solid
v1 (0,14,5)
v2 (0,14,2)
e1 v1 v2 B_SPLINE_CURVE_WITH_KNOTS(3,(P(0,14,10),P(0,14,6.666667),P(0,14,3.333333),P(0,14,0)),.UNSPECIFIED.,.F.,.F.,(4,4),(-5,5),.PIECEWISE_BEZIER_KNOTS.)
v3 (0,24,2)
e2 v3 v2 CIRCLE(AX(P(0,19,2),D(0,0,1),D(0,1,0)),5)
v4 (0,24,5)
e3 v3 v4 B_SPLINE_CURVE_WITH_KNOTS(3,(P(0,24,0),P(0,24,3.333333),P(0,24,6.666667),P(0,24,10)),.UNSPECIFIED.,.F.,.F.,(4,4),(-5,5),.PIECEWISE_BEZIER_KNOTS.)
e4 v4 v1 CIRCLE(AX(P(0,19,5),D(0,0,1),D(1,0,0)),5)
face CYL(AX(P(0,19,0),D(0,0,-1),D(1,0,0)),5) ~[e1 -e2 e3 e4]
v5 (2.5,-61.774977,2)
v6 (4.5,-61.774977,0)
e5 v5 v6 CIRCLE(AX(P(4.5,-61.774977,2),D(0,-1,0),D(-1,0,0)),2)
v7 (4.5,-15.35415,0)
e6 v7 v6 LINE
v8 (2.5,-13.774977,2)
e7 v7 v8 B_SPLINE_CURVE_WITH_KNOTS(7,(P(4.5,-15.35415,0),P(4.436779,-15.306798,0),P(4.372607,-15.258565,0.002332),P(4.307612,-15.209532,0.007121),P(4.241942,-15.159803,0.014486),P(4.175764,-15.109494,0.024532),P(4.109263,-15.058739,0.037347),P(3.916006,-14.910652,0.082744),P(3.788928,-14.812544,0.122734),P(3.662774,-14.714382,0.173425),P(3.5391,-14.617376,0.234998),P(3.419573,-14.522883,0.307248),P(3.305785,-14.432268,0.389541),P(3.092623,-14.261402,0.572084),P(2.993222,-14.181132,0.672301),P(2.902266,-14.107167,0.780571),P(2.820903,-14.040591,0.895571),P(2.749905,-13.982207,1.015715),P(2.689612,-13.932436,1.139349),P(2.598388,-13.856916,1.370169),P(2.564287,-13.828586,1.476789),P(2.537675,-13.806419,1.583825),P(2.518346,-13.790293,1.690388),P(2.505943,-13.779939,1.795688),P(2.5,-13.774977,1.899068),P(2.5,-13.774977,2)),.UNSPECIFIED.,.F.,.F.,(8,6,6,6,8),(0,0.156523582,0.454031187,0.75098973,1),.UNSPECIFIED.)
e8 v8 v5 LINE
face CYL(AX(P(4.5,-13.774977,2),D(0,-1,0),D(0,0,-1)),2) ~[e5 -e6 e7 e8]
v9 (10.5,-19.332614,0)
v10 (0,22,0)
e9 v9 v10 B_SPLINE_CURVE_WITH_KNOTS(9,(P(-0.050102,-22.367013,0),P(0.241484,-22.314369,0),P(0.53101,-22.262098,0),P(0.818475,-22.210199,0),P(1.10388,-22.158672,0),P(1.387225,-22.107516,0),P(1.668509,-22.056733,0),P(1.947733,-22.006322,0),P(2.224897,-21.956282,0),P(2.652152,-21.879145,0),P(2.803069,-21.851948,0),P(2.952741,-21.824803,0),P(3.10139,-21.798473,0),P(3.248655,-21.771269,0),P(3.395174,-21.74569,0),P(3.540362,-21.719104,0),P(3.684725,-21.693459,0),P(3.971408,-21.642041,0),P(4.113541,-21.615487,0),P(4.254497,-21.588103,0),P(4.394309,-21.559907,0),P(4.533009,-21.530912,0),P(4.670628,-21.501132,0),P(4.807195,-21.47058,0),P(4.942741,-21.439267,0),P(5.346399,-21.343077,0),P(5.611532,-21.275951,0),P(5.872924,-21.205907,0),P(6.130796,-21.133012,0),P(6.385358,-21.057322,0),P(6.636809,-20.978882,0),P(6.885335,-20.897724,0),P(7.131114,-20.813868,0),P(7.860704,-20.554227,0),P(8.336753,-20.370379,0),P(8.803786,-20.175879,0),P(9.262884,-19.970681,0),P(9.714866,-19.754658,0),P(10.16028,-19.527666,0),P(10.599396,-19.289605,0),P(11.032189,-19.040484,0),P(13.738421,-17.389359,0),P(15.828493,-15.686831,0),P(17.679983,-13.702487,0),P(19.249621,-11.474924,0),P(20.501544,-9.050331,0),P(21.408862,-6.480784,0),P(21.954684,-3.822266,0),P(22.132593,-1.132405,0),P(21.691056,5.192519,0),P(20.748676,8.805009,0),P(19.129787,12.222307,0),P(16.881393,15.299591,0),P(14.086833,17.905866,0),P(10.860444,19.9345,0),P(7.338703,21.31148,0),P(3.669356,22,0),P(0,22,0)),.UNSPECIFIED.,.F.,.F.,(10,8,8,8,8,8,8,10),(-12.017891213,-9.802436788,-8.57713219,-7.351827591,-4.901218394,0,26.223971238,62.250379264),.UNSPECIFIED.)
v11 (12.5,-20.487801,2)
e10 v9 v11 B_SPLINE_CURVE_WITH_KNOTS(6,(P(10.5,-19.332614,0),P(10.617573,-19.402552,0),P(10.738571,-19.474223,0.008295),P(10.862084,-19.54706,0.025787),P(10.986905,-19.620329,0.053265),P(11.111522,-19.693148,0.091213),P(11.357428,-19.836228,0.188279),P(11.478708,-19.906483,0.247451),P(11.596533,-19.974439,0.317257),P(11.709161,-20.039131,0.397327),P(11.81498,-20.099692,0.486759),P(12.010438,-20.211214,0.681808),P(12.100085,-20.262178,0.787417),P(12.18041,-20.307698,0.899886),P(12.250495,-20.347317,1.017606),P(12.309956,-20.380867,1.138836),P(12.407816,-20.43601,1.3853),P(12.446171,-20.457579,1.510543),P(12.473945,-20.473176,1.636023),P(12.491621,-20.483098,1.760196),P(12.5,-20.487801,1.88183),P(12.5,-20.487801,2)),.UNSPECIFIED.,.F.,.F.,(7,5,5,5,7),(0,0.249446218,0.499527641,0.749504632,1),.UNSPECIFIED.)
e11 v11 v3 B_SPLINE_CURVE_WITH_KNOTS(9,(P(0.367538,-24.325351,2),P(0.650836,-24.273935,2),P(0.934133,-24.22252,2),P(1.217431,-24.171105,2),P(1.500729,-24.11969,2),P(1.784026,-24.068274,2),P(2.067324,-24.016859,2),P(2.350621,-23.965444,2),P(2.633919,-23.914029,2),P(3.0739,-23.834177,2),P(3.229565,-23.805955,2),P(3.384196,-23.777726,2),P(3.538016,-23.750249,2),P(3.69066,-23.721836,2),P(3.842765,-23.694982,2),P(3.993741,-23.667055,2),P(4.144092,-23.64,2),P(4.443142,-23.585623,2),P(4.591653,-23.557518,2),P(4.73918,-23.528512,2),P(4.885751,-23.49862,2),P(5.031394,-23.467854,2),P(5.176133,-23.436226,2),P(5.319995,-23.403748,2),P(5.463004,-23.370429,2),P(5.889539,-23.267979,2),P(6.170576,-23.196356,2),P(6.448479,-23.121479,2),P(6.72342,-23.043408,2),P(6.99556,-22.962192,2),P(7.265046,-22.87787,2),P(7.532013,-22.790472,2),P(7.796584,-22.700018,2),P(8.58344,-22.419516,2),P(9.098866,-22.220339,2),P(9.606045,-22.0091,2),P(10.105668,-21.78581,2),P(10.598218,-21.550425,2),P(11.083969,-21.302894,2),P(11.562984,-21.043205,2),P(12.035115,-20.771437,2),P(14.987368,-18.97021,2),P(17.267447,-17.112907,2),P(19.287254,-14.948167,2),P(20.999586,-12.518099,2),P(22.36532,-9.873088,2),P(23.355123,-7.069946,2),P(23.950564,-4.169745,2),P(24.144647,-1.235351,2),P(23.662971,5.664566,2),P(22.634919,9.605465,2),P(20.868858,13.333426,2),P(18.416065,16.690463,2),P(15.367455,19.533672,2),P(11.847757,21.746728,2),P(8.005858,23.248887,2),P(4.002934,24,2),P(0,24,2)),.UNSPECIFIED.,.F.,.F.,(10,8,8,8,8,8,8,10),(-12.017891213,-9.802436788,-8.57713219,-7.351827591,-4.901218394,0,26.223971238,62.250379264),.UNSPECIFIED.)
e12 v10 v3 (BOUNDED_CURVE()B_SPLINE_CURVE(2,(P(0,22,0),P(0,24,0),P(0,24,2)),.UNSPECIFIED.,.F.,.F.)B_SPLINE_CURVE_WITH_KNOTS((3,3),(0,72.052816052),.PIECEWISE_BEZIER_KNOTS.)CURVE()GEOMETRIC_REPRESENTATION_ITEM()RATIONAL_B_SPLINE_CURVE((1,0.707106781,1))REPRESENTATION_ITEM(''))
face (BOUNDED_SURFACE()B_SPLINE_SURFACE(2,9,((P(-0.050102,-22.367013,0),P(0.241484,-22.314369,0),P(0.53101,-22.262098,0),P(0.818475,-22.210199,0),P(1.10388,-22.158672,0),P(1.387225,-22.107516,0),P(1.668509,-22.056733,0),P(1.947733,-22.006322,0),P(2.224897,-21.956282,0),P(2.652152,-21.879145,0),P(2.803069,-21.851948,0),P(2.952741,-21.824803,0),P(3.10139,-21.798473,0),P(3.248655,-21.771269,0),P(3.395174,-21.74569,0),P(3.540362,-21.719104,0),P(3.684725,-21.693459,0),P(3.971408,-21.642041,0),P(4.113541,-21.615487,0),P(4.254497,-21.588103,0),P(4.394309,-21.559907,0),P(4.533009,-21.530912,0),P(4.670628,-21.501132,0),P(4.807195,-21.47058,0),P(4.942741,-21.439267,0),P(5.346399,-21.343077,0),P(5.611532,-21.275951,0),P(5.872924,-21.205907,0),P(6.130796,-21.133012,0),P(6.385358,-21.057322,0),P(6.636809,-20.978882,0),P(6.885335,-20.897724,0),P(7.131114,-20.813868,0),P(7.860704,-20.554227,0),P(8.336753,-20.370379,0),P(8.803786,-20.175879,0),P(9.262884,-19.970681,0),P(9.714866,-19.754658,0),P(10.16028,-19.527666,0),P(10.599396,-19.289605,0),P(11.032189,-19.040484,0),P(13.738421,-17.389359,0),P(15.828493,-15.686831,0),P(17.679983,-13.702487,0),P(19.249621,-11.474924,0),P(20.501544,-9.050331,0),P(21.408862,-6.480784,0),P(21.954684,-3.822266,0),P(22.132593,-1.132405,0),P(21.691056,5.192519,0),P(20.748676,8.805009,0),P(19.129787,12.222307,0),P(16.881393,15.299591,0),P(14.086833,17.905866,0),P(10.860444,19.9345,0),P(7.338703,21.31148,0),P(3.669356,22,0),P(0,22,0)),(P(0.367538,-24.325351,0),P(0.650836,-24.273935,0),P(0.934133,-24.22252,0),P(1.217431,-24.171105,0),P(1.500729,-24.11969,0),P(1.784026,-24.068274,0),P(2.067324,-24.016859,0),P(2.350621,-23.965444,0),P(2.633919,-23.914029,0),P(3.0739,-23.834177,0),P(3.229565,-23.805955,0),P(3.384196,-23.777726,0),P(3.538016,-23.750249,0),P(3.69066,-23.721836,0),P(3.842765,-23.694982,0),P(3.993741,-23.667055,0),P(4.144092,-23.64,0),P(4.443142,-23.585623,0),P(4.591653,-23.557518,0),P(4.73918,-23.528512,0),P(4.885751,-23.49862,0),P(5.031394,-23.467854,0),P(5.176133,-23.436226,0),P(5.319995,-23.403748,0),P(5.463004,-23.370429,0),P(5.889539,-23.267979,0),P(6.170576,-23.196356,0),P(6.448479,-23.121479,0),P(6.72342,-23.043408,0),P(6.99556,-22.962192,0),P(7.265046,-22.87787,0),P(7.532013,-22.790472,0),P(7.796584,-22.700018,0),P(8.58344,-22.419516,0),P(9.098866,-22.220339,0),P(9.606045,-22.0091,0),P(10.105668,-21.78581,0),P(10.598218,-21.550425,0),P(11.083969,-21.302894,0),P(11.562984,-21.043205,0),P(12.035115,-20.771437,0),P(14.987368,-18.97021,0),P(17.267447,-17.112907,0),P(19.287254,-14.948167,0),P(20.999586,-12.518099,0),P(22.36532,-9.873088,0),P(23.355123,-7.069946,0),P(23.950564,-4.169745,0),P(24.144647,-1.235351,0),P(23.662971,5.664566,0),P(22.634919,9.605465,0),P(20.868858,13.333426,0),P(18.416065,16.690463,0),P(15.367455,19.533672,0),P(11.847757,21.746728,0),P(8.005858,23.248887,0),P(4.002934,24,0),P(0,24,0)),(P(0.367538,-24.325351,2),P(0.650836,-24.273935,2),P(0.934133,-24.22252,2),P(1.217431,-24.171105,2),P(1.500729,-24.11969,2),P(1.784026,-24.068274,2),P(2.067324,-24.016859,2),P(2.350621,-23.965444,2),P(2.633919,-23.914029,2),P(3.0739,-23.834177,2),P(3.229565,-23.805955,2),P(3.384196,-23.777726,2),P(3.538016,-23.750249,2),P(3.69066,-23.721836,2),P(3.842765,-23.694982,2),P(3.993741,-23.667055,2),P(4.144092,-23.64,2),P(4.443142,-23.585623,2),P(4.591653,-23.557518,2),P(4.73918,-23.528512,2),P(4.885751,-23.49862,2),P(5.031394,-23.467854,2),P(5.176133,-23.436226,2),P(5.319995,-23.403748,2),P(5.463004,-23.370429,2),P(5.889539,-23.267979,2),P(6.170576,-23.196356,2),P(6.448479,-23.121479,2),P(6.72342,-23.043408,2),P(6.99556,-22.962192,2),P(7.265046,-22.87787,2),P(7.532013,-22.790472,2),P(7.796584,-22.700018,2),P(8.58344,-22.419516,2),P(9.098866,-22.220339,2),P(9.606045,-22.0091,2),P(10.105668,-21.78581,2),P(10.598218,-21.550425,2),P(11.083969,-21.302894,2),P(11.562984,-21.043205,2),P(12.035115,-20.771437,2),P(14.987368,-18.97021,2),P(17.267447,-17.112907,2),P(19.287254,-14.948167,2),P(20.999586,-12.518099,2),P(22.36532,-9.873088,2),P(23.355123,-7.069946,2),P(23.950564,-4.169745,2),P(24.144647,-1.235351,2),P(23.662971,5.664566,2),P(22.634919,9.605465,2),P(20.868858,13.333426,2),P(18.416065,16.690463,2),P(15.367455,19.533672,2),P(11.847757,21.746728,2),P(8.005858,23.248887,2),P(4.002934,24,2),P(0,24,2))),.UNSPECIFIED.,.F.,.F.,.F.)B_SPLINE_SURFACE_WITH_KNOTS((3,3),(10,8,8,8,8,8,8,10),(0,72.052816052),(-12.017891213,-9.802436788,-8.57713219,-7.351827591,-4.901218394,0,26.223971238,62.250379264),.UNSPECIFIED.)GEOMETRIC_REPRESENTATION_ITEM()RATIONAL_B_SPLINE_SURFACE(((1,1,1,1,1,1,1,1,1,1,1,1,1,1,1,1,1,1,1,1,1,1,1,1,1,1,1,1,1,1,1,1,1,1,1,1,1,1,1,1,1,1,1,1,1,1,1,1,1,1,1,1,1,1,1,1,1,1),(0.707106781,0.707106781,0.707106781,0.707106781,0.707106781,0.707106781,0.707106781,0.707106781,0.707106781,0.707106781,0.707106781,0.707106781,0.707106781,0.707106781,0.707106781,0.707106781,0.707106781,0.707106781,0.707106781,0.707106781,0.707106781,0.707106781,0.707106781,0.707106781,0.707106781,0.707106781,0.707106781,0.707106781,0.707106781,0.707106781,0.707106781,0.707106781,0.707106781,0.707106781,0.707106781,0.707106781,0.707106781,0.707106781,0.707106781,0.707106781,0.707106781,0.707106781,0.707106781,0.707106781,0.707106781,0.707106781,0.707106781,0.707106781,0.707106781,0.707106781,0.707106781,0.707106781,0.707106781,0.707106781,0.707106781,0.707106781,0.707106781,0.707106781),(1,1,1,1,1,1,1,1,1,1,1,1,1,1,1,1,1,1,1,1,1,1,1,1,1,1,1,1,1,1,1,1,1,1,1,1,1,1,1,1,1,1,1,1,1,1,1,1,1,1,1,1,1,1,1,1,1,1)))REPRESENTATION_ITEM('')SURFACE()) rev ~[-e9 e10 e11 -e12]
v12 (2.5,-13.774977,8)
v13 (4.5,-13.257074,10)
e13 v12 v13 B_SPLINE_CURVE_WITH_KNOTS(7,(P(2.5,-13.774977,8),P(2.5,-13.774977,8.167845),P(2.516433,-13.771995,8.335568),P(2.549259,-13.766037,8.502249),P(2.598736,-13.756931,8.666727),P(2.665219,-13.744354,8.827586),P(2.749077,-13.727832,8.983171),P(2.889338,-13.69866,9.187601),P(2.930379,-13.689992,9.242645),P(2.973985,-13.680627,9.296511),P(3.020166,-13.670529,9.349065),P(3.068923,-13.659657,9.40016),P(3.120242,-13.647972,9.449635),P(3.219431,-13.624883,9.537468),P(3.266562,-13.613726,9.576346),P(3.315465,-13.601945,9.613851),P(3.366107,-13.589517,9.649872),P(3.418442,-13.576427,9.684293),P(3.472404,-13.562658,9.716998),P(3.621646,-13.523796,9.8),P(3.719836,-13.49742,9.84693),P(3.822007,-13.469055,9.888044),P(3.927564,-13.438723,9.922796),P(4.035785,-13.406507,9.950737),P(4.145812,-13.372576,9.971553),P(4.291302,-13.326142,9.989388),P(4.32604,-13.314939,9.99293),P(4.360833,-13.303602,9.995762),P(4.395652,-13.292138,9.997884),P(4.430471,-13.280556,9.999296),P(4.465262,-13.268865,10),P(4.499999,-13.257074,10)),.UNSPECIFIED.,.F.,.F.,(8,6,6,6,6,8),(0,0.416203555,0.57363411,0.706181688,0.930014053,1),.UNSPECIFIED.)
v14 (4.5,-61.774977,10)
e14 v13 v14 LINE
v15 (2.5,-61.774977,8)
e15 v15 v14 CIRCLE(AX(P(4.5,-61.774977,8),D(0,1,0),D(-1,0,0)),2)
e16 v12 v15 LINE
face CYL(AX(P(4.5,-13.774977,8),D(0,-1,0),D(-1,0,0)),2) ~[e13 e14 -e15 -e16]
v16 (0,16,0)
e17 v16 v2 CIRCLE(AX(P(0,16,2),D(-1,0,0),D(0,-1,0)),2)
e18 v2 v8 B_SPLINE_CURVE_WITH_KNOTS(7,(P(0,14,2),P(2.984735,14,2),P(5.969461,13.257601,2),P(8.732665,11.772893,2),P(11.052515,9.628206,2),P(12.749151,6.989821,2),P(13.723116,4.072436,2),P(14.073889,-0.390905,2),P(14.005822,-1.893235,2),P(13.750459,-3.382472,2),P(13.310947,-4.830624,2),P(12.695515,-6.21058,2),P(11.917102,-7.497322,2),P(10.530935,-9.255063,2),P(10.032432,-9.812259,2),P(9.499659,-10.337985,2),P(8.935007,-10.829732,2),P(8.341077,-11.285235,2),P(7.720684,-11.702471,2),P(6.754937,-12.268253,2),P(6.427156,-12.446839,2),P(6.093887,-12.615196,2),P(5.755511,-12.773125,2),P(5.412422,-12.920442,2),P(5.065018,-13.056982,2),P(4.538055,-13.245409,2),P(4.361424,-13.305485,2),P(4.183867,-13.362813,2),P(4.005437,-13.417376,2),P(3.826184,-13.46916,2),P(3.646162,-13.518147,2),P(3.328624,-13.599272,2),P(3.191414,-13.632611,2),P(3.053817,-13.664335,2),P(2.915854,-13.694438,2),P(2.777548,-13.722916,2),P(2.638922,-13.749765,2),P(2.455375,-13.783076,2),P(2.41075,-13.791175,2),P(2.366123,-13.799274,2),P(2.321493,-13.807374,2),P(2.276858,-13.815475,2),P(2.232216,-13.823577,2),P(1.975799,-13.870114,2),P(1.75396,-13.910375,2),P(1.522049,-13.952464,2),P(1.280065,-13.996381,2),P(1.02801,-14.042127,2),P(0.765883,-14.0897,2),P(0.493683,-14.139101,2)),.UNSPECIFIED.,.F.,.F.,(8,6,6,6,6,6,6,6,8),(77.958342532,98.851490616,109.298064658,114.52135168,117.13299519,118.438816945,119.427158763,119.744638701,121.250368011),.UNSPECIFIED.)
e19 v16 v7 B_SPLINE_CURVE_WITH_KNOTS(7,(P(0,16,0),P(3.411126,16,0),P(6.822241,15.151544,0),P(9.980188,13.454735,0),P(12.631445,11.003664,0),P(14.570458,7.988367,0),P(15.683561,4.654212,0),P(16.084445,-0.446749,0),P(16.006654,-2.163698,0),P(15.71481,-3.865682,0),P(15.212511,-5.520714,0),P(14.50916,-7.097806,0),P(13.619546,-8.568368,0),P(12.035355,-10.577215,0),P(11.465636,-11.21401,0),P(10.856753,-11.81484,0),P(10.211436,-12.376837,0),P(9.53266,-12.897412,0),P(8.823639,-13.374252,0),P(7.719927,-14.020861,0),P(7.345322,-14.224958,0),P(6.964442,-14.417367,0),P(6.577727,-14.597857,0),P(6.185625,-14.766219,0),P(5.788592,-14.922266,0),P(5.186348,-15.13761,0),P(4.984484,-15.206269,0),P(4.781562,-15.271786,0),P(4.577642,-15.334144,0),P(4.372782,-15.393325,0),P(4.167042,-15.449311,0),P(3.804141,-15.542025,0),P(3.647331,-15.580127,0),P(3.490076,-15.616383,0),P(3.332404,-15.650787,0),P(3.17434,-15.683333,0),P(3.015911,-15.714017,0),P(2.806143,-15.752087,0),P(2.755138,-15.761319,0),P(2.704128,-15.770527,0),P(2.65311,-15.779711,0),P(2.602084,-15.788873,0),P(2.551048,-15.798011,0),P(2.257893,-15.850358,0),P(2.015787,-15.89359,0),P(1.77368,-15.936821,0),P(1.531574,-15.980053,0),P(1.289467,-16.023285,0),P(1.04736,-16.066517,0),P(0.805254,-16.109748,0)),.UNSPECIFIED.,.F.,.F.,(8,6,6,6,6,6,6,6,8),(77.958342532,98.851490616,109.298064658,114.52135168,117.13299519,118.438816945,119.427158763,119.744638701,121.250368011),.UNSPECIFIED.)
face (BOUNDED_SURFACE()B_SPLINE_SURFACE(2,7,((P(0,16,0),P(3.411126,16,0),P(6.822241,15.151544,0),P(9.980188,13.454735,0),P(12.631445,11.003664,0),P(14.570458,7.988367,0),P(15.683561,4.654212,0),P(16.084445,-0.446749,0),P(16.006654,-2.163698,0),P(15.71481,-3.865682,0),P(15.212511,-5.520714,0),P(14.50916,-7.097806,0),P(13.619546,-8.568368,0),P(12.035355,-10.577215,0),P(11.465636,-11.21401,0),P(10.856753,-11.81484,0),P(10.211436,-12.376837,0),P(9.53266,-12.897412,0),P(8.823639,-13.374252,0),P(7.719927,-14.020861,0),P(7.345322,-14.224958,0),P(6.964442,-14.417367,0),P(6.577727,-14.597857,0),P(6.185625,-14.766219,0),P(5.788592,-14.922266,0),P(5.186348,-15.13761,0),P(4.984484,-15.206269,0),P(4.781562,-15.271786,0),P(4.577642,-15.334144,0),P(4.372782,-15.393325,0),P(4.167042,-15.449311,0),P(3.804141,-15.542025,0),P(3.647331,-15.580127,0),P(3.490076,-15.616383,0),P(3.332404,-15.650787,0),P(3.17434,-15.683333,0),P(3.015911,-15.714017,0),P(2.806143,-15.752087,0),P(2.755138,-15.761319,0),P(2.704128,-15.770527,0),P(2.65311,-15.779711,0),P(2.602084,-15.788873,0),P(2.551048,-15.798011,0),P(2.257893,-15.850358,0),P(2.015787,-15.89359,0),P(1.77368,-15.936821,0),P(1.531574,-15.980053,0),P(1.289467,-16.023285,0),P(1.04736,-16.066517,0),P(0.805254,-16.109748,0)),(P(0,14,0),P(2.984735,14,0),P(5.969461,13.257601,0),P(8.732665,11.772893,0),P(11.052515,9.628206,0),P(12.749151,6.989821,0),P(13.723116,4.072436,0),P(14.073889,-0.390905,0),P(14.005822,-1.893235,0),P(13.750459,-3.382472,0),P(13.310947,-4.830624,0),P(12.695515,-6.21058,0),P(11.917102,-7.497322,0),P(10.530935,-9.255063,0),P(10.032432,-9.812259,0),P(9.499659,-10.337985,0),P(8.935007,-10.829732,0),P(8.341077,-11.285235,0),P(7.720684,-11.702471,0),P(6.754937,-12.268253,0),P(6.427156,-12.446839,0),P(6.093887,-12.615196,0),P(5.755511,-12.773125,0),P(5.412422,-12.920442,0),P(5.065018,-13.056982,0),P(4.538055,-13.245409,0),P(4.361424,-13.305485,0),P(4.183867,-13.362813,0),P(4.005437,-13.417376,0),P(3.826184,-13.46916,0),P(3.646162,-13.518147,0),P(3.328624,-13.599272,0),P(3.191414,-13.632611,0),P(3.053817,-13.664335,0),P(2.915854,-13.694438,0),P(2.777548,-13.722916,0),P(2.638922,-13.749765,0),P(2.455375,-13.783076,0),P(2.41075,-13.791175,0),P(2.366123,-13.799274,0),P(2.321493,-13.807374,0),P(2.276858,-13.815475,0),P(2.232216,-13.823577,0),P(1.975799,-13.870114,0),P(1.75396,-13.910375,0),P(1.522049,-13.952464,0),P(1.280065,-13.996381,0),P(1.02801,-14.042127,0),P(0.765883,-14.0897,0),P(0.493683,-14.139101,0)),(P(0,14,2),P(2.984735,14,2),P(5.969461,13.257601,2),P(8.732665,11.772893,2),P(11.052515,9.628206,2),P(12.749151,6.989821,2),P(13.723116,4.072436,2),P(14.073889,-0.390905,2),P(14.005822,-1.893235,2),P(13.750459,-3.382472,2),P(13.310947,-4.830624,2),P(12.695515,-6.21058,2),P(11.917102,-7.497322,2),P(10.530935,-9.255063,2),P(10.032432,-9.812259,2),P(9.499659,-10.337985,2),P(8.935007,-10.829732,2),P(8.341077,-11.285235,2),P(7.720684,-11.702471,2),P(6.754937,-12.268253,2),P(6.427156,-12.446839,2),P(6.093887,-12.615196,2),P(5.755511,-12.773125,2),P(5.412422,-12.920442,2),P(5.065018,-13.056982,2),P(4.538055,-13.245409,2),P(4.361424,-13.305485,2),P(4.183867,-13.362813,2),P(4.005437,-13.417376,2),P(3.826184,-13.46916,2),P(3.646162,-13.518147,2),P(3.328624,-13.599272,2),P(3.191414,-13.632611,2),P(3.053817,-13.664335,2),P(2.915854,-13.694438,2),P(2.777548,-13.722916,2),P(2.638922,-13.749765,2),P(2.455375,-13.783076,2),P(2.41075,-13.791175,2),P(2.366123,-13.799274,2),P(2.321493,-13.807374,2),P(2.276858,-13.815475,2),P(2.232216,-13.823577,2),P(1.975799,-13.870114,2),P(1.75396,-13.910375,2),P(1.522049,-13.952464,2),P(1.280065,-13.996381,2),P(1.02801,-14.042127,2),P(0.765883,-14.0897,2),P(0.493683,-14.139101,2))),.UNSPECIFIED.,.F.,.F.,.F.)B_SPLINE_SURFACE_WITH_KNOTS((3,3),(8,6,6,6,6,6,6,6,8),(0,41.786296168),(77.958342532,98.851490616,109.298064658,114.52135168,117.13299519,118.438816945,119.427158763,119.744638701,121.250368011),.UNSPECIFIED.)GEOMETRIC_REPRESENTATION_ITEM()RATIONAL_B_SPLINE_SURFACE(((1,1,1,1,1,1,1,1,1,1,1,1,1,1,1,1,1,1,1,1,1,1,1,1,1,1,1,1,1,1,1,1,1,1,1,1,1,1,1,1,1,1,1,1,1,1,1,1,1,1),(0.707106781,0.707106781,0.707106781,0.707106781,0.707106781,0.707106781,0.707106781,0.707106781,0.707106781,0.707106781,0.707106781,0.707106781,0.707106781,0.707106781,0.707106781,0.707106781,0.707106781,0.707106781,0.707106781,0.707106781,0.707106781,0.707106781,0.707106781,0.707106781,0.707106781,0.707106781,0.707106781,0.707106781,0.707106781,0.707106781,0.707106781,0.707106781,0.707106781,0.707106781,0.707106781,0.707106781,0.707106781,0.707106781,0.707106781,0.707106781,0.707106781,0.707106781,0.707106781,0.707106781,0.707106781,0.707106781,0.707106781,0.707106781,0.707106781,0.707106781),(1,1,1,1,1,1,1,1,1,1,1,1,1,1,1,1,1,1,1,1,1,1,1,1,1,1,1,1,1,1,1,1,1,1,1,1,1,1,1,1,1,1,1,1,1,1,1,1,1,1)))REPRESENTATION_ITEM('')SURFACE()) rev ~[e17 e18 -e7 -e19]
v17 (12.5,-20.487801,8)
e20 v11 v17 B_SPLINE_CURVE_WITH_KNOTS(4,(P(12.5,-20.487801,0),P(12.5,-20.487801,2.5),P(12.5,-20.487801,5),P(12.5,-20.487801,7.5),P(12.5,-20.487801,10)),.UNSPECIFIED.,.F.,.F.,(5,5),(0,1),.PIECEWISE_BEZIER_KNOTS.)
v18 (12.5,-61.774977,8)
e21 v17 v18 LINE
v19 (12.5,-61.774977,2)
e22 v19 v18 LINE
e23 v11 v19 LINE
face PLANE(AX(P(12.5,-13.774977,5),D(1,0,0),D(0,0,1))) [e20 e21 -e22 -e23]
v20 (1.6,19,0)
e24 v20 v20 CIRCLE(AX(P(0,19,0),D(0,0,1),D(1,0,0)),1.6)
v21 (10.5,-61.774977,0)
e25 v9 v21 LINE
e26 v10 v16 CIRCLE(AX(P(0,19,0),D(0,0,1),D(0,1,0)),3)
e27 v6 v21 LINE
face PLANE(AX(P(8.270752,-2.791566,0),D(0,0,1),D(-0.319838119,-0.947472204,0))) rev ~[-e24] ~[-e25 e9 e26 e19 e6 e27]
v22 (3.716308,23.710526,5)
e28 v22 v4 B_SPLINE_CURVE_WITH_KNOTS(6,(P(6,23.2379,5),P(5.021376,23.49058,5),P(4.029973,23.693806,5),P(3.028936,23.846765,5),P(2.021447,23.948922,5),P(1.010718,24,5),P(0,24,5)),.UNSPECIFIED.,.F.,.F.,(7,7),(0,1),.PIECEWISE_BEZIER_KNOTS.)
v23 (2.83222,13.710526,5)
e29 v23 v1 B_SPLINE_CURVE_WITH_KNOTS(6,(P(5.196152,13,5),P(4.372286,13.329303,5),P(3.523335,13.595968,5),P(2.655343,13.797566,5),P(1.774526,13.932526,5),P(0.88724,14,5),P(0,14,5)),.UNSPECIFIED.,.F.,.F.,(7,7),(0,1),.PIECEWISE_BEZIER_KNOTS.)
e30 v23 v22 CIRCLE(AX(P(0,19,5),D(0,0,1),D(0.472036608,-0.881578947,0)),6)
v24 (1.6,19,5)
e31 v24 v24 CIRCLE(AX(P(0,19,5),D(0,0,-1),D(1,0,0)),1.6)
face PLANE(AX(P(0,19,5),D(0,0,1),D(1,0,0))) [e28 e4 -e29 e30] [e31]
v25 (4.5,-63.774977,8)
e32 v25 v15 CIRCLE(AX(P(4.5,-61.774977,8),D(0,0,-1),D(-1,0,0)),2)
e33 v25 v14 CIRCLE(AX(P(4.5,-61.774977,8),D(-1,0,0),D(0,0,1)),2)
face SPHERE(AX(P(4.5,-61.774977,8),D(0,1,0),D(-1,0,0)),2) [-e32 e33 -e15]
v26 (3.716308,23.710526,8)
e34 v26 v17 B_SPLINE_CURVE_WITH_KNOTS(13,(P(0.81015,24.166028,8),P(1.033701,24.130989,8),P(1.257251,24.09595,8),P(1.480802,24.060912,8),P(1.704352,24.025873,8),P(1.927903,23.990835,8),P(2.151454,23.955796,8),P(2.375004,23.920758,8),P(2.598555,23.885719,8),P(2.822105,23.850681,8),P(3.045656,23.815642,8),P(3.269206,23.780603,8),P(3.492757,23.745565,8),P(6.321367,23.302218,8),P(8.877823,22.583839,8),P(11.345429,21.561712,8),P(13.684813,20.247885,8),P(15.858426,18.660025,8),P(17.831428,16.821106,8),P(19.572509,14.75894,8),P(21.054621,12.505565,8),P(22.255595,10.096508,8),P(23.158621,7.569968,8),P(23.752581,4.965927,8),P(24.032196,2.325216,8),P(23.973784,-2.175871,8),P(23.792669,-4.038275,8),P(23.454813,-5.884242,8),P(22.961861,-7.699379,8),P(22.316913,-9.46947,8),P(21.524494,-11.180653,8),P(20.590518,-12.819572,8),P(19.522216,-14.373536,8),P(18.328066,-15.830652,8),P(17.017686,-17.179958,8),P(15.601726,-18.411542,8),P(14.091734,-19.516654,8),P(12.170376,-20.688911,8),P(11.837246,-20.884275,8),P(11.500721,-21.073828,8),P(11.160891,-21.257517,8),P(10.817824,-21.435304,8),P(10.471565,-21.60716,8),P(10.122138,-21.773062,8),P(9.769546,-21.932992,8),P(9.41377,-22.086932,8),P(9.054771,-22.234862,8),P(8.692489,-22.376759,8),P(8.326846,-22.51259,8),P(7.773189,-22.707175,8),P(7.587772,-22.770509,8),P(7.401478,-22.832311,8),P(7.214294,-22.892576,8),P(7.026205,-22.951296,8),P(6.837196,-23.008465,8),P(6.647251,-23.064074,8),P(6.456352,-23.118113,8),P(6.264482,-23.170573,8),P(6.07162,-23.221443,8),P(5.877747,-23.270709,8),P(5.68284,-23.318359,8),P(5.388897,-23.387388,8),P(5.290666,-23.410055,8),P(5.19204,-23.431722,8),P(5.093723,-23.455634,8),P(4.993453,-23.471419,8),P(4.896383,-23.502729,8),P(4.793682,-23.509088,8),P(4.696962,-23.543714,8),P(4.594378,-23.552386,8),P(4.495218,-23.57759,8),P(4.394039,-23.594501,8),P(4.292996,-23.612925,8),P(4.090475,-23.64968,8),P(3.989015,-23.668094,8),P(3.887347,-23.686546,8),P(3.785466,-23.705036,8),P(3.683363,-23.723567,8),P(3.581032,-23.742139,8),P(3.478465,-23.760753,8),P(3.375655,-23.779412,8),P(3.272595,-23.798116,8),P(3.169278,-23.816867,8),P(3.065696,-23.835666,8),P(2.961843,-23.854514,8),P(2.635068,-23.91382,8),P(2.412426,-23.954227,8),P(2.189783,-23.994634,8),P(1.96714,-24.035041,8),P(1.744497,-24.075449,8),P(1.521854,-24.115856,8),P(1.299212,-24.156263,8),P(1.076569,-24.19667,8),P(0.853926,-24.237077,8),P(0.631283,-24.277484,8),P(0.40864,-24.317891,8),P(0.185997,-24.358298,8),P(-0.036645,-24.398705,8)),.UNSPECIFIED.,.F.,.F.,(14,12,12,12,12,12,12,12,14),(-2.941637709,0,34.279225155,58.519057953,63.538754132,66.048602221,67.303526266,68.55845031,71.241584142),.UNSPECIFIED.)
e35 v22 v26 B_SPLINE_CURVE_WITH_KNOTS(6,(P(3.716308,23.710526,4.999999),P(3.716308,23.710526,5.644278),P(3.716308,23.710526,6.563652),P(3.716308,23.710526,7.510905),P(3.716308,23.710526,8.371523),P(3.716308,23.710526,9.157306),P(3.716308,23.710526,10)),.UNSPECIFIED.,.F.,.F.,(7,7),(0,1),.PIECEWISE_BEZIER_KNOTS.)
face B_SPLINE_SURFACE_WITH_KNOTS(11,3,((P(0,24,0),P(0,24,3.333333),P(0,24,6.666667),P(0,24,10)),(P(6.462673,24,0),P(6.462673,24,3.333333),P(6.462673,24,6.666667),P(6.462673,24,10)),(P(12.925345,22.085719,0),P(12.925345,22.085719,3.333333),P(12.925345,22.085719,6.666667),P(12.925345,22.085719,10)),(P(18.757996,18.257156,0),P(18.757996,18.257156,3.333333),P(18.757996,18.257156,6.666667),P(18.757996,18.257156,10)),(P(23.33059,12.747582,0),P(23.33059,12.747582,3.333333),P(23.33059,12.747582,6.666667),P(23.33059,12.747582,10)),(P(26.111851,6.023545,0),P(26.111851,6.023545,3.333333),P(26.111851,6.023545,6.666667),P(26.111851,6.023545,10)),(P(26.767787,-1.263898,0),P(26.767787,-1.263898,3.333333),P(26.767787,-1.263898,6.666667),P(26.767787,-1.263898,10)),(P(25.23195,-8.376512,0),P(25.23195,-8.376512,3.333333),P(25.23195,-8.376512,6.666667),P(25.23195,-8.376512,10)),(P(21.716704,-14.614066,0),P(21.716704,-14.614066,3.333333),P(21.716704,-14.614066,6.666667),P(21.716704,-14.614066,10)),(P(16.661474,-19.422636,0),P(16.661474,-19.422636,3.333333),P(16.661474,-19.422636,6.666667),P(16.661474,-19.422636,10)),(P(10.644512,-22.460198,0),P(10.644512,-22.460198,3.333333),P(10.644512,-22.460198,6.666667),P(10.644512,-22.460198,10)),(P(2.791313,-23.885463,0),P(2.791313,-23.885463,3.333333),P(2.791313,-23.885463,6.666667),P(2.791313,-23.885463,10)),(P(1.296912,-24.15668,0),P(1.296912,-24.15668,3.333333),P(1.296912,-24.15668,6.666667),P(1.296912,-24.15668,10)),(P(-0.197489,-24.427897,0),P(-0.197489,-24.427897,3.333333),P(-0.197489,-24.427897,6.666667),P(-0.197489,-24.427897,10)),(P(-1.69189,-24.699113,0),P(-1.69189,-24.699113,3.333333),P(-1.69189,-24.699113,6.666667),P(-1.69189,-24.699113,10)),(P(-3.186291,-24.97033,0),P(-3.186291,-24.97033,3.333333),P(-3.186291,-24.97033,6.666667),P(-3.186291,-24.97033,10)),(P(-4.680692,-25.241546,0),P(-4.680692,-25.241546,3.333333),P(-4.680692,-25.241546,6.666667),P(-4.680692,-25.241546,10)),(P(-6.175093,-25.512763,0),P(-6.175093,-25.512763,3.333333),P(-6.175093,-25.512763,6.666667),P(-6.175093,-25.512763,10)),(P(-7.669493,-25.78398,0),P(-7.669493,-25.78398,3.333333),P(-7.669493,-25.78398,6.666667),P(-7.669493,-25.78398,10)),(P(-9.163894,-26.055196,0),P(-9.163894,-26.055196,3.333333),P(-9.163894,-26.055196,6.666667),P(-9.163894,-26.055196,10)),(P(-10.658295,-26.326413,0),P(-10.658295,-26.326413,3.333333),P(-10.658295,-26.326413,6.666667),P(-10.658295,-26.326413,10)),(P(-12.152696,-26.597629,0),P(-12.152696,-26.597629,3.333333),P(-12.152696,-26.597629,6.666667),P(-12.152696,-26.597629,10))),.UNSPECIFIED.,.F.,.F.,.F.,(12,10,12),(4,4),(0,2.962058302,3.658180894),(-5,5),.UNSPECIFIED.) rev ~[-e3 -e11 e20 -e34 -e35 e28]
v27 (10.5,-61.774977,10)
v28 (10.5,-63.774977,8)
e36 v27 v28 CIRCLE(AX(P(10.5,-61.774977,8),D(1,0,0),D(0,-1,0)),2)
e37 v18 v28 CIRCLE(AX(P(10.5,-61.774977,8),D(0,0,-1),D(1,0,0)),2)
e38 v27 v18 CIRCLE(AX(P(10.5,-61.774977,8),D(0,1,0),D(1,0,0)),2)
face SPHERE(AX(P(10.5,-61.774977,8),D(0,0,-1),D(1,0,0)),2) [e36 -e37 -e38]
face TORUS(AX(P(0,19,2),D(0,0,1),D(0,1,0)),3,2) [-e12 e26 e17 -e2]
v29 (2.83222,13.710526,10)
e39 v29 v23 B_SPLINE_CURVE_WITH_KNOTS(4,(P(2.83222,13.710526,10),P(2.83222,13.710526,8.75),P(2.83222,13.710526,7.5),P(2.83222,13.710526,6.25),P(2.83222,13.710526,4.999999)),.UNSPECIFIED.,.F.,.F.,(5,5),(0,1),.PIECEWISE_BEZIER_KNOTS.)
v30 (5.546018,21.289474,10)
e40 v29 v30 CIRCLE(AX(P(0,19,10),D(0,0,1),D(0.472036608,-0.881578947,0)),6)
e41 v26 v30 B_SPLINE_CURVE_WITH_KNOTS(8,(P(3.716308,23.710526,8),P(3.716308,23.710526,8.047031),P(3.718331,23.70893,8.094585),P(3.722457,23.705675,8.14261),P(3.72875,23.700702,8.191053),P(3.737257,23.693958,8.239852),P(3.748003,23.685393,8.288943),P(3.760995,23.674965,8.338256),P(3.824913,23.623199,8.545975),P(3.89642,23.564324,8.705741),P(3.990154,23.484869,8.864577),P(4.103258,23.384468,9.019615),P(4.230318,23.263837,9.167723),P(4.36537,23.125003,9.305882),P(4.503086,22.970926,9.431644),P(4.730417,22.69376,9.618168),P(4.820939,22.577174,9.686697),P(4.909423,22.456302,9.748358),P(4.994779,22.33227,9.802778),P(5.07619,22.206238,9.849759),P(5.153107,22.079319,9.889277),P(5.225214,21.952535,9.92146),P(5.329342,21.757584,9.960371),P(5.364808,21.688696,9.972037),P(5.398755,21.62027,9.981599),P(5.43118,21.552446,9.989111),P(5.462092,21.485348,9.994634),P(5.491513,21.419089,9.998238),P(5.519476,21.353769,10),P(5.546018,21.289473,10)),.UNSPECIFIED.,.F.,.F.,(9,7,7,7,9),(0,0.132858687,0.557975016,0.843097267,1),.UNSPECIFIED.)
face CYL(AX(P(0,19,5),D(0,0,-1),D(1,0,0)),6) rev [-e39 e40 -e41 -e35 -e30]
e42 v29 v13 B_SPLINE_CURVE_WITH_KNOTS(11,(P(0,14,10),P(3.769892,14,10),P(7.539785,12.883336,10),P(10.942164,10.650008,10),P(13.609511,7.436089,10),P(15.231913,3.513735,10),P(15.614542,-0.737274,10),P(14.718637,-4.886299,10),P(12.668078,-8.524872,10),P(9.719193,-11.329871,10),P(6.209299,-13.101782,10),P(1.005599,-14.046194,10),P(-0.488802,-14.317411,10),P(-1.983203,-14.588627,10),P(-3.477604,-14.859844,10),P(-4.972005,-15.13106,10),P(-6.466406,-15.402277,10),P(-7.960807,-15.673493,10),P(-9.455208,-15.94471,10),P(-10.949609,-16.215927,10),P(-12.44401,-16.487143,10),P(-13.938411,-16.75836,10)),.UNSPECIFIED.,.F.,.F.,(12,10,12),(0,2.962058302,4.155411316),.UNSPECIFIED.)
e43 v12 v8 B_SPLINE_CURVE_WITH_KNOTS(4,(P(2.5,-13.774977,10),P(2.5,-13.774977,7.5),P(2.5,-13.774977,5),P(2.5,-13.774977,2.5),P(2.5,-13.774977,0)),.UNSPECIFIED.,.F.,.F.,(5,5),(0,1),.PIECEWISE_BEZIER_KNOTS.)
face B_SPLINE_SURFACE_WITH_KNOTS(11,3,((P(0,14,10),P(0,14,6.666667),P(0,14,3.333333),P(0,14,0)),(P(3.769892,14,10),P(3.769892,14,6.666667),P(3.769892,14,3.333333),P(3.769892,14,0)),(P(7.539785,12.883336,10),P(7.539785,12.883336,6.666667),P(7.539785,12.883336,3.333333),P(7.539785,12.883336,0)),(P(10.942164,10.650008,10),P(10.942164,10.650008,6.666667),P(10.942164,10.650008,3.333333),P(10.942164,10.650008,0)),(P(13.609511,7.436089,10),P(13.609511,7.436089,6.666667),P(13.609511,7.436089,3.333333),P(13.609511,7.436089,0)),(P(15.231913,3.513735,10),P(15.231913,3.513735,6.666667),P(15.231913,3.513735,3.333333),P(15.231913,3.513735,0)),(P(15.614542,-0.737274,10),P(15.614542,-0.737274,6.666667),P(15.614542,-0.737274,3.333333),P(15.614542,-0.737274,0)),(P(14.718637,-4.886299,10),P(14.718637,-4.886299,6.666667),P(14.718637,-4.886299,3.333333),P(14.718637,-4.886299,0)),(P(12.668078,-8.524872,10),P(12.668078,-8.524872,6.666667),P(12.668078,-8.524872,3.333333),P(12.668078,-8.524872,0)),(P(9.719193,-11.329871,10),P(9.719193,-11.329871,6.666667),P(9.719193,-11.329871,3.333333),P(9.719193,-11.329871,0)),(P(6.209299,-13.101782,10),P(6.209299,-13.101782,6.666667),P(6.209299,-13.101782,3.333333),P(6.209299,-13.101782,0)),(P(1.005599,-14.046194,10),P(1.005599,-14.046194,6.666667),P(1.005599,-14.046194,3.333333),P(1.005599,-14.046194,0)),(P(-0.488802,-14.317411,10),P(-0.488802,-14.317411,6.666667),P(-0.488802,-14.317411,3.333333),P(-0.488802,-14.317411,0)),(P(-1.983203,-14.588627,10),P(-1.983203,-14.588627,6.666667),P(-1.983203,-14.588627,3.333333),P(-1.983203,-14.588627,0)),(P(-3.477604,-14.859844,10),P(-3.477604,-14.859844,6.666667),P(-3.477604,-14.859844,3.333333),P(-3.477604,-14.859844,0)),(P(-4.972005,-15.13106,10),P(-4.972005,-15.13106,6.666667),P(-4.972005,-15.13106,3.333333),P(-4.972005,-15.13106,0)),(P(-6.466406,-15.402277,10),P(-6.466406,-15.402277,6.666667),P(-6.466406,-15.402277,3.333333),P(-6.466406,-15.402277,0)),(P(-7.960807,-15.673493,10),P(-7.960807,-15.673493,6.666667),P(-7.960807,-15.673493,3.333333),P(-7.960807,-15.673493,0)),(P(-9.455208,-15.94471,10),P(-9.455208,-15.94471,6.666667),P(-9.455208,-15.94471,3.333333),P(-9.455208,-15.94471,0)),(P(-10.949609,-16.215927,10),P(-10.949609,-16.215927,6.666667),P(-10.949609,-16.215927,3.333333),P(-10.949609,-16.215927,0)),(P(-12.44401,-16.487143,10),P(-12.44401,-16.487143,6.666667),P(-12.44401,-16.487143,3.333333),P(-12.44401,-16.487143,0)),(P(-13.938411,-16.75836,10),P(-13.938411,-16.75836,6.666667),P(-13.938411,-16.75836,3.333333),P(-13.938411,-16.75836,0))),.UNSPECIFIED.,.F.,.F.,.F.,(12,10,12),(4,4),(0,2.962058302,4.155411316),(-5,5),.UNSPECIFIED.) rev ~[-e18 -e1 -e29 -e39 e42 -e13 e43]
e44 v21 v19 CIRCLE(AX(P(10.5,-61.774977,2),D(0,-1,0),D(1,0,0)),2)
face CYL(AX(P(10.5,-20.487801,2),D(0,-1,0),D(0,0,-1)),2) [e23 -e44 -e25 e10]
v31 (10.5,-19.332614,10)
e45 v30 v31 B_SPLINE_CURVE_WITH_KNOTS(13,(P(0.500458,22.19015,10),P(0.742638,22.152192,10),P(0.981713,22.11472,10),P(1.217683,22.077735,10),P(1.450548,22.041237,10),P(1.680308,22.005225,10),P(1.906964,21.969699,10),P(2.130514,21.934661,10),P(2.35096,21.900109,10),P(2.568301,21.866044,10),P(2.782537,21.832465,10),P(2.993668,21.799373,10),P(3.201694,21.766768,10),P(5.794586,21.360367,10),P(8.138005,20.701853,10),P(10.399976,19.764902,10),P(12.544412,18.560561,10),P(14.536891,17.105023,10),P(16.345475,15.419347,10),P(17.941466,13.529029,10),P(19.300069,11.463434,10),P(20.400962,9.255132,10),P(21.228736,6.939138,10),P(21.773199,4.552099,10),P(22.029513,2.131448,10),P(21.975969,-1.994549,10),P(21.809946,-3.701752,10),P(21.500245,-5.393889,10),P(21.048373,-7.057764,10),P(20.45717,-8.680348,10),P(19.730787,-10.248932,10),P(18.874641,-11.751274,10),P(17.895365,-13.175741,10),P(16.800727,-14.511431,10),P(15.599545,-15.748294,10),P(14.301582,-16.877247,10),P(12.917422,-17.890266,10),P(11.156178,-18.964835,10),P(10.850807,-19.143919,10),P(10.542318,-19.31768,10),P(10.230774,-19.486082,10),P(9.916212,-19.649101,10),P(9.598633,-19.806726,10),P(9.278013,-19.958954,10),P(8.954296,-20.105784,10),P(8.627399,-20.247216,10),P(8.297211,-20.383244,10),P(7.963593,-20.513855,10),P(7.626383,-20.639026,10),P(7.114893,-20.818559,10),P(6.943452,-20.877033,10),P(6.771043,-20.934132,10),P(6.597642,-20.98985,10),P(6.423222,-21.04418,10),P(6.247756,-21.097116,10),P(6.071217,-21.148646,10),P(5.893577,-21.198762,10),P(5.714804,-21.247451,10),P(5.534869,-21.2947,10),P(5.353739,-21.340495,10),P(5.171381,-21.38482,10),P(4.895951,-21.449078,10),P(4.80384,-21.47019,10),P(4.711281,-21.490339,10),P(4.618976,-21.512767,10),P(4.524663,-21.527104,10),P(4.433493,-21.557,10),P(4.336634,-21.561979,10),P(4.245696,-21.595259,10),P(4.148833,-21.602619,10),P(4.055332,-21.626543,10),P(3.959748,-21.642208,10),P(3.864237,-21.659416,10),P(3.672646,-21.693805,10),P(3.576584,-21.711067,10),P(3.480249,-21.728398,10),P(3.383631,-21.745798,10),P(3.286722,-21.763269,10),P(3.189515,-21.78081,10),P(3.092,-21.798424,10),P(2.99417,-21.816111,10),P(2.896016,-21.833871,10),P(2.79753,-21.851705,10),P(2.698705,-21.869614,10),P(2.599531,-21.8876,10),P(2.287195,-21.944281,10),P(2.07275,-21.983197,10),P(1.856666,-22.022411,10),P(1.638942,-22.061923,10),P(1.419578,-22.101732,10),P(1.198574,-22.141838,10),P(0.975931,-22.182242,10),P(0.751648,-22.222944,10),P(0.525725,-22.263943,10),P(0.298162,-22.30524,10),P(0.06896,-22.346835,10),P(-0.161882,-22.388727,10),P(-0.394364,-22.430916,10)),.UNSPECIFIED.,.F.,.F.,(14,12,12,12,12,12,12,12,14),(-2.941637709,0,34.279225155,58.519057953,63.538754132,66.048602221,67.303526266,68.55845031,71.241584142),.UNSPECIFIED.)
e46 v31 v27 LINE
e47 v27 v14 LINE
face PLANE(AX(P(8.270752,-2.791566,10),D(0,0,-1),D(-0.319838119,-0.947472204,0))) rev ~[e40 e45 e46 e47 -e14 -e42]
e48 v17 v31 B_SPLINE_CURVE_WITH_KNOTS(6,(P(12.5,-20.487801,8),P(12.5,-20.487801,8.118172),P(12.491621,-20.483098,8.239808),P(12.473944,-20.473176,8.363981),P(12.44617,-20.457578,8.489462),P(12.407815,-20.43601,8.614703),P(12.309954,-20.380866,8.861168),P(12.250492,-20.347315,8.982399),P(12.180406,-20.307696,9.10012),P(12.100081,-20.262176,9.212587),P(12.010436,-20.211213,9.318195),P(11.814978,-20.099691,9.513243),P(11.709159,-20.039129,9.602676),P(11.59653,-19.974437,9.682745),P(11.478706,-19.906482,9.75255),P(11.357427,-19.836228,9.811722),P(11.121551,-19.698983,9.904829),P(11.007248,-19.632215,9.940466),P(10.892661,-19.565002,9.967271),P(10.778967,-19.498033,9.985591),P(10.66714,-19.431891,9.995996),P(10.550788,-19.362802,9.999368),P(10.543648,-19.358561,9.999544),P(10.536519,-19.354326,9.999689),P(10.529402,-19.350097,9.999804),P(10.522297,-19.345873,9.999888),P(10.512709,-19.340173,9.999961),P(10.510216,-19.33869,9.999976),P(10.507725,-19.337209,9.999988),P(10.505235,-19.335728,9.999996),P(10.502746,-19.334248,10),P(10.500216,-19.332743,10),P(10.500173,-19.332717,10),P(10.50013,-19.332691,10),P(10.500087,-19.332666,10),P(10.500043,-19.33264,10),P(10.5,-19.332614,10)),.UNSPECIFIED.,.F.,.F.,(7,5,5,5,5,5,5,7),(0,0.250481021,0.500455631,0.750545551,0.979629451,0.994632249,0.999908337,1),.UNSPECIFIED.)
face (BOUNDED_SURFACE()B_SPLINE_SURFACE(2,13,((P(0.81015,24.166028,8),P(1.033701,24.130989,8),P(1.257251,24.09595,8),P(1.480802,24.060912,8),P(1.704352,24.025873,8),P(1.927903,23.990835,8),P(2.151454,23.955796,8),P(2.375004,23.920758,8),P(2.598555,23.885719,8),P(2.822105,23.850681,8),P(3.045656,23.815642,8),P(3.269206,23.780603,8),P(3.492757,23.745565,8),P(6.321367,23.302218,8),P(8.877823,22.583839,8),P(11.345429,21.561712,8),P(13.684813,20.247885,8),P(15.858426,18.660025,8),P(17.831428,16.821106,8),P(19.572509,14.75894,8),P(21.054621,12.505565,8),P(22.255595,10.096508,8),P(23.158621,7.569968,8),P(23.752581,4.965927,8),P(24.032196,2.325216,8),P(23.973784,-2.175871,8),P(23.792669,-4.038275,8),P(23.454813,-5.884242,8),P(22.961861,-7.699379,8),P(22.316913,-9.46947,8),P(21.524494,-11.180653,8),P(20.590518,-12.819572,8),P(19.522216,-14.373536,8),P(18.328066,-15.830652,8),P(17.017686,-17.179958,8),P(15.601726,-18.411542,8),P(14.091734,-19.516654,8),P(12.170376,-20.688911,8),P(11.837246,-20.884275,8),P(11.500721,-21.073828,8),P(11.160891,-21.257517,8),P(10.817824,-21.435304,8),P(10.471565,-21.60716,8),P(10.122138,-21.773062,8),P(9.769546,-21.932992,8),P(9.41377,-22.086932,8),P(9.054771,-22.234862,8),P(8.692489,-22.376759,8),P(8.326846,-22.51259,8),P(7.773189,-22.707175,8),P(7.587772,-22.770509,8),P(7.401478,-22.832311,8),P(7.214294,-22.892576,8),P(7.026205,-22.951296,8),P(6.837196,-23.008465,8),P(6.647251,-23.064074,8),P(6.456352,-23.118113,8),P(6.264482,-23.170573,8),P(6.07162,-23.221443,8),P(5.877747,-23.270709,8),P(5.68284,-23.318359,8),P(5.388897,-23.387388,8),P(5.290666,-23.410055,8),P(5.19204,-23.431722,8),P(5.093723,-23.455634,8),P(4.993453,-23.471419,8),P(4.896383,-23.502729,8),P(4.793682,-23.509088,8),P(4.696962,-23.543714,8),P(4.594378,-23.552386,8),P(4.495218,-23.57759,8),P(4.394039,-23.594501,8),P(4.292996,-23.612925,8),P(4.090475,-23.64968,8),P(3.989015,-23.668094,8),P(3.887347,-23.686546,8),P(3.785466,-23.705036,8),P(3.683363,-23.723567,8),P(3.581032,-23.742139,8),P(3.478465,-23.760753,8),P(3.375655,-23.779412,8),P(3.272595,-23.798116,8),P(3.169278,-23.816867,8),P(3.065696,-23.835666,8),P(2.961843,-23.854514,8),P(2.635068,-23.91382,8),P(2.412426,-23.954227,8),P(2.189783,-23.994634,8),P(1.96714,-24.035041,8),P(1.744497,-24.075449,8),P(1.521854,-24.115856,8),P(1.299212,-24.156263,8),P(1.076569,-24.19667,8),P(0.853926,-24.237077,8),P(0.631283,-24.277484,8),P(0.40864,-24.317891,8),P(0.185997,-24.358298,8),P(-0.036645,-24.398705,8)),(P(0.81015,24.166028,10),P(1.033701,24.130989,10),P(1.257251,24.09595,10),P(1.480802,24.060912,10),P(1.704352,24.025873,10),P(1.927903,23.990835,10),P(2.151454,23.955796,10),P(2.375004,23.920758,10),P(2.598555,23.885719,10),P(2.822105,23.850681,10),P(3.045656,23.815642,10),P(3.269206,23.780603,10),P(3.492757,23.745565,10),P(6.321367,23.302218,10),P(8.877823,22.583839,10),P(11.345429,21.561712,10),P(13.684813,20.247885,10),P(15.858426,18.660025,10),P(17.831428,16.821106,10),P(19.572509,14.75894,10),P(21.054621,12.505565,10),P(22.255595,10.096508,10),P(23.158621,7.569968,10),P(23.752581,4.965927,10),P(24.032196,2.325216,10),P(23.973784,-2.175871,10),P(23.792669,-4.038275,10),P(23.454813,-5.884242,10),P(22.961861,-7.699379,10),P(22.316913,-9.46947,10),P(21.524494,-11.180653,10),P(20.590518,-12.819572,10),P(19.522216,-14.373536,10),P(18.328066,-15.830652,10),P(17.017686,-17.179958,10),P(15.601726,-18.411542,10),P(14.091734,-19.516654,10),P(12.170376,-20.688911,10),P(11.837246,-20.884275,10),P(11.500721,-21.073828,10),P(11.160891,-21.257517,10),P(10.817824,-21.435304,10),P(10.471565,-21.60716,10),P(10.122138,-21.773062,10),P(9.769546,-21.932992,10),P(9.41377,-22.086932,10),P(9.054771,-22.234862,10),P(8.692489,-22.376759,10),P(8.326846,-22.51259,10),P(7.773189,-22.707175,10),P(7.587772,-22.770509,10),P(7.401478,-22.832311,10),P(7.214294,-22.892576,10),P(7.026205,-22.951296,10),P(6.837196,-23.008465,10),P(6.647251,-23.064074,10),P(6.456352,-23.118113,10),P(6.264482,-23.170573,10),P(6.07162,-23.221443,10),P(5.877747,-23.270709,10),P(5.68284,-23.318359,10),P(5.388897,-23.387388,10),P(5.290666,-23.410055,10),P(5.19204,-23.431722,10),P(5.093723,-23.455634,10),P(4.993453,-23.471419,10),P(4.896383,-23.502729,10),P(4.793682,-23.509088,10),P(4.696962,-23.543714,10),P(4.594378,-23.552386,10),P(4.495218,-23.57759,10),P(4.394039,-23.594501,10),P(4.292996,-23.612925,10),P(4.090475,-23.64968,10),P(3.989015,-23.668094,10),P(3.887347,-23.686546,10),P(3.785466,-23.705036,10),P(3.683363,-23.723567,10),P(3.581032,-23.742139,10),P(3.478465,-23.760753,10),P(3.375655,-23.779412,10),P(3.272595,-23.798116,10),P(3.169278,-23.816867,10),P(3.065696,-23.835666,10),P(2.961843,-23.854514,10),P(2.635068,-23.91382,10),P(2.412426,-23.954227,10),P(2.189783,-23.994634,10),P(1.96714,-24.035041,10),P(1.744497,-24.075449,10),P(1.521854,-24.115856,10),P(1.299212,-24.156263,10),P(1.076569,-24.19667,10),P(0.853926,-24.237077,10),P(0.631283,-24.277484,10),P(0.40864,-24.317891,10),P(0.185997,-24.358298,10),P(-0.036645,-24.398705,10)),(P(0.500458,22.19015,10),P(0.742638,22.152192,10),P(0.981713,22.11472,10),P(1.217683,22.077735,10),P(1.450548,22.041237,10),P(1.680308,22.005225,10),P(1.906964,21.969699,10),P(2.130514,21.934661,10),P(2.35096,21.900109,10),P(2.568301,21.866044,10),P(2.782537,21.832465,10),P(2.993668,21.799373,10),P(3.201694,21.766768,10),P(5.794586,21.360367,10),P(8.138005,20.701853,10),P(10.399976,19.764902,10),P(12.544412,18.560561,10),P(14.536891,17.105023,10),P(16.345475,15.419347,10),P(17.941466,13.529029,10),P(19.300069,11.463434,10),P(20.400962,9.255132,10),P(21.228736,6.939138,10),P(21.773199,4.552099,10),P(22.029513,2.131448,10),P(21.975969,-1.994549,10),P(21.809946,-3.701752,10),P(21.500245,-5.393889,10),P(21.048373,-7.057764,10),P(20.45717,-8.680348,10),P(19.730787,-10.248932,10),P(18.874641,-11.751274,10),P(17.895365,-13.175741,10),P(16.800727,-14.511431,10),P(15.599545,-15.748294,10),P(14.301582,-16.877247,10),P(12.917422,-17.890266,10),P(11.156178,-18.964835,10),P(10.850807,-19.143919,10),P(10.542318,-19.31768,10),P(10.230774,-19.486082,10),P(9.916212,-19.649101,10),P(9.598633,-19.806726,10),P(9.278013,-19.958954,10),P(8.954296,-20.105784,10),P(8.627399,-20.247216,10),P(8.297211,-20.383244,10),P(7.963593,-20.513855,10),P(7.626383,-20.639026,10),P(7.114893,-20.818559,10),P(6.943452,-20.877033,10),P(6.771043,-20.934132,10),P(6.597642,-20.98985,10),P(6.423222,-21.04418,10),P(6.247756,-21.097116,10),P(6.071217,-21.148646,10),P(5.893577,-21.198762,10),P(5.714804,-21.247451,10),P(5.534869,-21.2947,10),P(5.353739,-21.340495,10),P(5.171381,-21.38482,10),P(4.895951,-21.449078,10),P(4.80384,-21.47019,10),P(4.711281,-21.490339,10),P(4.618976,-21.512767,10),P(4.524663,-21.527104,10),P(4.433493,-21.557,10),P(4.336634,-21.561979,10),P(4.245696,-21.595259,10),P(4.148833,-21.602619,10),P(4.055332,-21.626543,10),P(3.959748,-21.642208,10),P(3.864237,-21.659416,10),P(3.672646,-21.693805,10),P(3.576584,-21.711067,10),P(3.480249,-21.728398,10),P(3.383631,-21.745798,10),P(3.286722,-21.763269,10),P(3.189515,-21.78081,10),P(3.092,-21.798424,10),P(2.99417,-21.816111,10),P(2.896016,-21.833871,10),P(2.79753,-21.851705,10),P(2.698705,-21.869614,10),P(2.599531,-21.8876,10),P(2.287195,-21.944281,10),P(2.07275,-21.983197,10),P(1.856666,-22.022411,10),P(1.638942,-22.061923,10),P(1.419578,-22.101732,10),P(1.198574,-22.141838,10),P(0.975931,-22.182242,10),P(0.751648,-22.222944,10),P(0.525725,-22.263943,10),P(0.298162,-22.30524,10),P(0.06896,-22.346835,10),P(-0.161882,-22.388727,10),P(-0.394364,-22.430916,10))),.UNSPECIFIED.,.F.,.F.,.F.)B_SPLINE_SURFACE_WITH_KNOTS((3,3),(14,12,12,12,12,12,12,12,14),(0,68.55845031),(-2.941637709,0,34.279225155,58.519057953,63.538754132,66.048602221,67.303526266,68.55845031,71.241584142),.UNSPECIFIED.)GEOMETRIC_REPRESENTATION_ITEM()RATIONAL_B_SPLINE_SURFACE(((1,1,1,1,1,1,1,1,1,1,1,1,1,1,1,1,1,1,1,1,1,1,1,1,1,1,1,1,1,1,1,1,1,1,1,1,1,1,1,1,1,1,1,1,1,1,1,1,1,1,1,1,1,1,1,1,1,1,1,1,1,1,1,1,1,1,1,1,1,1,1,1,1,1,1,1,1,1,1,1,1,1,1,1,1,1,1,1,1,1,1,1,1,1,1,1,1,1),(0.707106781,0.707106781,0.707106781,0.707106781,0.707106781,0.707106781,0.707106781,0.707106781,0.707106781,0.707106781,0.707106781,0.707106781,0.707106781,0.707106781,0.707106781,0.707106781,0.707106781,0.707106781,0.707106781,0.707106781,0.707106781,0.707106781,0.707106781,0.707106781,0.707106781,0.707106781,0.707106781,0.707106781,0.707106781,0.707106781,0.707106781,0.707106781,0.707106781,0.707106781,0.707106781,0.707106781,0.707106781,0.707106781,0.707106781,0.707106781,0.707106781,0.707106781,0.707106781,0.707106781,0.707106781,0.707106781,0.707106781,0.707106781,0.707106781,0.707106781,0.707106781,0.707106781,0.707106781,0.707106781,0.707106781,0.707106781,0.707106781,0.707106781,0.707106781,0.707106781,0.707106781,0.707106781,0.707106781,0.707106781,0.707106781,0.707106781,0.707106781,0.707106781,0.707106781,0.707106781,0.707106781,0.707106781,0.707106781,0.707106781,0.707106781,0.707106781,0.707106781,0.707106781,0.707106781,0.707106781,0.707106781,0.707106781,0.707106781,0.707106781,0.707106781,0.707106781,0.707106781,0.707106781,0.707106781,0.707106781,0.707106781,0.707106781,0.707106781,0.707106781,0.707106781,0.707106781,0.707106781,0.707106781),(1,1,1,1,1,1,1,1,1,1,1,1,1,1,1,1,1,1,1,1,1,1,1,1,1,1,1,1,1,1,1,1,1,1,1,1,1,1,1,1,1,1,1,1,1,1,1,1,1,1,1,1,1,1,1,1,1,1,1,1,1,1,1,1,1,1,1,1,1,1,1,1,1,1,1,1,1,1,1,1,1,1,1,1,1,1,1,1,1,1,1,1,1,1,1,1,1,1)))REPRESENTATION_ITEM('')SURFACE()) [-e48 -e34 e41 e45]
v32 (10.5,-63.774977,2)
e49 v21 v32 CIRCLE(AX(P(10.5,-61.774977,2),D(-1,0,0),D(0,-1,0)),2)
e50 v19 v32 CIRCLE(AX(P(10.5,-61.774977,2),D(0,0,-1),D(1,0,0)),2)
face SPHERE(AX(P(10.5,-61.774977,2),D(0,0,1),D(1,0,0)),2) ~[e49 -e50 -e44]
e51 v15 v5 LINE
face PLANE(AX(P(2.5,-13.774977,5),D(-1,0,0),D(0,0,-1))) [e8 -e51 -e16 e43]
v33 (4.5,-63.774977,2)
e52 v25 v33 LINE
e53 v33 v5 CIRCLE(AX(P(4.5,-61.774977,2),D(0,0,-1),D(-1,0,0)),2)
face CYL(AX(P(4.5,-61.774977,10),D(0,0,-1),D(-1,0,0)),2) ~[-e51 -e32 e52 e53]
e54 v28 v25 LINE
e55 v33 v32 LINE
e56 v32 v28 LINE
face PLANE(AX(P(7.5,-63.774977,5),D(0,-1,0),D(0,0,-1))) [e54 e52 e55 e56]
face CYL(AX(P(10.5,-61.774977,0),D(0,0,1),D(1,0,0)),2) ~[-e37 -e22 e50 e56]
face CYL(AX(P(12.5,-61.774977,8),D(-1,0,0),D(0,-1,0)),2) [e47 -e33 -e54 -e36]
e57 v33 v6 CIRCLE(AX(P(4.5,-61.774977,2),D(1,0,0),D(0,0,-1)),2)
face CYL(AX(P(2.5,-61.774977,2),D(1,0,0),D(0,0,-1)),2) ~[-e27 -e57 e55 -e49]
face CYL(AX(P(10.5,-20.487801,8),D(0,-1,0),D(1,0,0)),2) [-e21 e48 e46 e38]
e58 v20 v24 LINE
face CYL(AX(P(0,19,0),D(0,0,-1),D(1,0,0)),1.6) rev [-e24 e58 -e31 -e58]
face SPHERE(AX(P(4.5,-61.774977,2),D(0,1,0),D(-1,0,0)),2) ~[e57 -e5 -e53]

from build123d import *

# Parameters (mm, degrees)
F2_W     = 10
F2_H     = 10
F4_R     = 5
F5_DEPTH = 5
F6_R     = 6
F7_DEPTH = 5.0010001
F8_R     = 1.6
F9_DEPTH = 10.0010001
F10_R    = 2


with BuildPart() as f3:
    # F3: sweep along a path in F0
    with BuildLine(Plane.XY) as f3_path:
        ThreePointArc((0, 14), (13.943630847, 1.2550533066), (2.5, -13.774977314))
        Line((2.5, -13.774977314), (2.5, -63.774977314))
    # F2 (on plane+point) → F3 (sweep)
    with BuildSketch(Plane.XZ.offset(63.774977314)):
        with Locations((7.5, 5)):
            Rectangle(F2_W, F2_H)
    sweep(path=f3_path.line, transition=Transition.RIGHT)

    # F4 (on Top) → F5 (join)
    with BuildSketch(Plane.XY):
        with Locations((0, 19)):
            Circle(F4_R)
    extrude(amount=F5_DEPTH)

    # F6 (on face) → F7 (cut, through all)
    with BuildSketch(Plane.XY.offset(5)):
        with Locations((0, 19)):
            Circle(F6_R)
    extrude(amount=F7_DEPTH, mode=Mode.SUBTRACT)

    # F8 (on Top) → F9 (cut, through all)
    with BuildSketch(Plane.XY):
        with Locations((0, 19)):
            Circle(F8_R)
    extrude(amount=F9_DEPTH, mode=Mode.SUBTRACT)

    # F10
    f10_edges = [f3.edges().sort_by_distance(p)[0] for p in [
        (2.5, -38.774977, 10),
        (2.5, -38.774977, 0),
        (2.5, -63.774977, 5),
        (12.5, -63.774977, 5),
        (12.5, -42.131389, 10),
        (23.539652, 4.67812, 10),
        (12.5, -42.131389, 0),
        (7.5, -63.774977, 0),
        (7.5, -63.774977, 10),
        (13.943631, 1.255053, 0),
    ]]
    fillet(f10_edges, radius=F10_R)


solid = f3.part
